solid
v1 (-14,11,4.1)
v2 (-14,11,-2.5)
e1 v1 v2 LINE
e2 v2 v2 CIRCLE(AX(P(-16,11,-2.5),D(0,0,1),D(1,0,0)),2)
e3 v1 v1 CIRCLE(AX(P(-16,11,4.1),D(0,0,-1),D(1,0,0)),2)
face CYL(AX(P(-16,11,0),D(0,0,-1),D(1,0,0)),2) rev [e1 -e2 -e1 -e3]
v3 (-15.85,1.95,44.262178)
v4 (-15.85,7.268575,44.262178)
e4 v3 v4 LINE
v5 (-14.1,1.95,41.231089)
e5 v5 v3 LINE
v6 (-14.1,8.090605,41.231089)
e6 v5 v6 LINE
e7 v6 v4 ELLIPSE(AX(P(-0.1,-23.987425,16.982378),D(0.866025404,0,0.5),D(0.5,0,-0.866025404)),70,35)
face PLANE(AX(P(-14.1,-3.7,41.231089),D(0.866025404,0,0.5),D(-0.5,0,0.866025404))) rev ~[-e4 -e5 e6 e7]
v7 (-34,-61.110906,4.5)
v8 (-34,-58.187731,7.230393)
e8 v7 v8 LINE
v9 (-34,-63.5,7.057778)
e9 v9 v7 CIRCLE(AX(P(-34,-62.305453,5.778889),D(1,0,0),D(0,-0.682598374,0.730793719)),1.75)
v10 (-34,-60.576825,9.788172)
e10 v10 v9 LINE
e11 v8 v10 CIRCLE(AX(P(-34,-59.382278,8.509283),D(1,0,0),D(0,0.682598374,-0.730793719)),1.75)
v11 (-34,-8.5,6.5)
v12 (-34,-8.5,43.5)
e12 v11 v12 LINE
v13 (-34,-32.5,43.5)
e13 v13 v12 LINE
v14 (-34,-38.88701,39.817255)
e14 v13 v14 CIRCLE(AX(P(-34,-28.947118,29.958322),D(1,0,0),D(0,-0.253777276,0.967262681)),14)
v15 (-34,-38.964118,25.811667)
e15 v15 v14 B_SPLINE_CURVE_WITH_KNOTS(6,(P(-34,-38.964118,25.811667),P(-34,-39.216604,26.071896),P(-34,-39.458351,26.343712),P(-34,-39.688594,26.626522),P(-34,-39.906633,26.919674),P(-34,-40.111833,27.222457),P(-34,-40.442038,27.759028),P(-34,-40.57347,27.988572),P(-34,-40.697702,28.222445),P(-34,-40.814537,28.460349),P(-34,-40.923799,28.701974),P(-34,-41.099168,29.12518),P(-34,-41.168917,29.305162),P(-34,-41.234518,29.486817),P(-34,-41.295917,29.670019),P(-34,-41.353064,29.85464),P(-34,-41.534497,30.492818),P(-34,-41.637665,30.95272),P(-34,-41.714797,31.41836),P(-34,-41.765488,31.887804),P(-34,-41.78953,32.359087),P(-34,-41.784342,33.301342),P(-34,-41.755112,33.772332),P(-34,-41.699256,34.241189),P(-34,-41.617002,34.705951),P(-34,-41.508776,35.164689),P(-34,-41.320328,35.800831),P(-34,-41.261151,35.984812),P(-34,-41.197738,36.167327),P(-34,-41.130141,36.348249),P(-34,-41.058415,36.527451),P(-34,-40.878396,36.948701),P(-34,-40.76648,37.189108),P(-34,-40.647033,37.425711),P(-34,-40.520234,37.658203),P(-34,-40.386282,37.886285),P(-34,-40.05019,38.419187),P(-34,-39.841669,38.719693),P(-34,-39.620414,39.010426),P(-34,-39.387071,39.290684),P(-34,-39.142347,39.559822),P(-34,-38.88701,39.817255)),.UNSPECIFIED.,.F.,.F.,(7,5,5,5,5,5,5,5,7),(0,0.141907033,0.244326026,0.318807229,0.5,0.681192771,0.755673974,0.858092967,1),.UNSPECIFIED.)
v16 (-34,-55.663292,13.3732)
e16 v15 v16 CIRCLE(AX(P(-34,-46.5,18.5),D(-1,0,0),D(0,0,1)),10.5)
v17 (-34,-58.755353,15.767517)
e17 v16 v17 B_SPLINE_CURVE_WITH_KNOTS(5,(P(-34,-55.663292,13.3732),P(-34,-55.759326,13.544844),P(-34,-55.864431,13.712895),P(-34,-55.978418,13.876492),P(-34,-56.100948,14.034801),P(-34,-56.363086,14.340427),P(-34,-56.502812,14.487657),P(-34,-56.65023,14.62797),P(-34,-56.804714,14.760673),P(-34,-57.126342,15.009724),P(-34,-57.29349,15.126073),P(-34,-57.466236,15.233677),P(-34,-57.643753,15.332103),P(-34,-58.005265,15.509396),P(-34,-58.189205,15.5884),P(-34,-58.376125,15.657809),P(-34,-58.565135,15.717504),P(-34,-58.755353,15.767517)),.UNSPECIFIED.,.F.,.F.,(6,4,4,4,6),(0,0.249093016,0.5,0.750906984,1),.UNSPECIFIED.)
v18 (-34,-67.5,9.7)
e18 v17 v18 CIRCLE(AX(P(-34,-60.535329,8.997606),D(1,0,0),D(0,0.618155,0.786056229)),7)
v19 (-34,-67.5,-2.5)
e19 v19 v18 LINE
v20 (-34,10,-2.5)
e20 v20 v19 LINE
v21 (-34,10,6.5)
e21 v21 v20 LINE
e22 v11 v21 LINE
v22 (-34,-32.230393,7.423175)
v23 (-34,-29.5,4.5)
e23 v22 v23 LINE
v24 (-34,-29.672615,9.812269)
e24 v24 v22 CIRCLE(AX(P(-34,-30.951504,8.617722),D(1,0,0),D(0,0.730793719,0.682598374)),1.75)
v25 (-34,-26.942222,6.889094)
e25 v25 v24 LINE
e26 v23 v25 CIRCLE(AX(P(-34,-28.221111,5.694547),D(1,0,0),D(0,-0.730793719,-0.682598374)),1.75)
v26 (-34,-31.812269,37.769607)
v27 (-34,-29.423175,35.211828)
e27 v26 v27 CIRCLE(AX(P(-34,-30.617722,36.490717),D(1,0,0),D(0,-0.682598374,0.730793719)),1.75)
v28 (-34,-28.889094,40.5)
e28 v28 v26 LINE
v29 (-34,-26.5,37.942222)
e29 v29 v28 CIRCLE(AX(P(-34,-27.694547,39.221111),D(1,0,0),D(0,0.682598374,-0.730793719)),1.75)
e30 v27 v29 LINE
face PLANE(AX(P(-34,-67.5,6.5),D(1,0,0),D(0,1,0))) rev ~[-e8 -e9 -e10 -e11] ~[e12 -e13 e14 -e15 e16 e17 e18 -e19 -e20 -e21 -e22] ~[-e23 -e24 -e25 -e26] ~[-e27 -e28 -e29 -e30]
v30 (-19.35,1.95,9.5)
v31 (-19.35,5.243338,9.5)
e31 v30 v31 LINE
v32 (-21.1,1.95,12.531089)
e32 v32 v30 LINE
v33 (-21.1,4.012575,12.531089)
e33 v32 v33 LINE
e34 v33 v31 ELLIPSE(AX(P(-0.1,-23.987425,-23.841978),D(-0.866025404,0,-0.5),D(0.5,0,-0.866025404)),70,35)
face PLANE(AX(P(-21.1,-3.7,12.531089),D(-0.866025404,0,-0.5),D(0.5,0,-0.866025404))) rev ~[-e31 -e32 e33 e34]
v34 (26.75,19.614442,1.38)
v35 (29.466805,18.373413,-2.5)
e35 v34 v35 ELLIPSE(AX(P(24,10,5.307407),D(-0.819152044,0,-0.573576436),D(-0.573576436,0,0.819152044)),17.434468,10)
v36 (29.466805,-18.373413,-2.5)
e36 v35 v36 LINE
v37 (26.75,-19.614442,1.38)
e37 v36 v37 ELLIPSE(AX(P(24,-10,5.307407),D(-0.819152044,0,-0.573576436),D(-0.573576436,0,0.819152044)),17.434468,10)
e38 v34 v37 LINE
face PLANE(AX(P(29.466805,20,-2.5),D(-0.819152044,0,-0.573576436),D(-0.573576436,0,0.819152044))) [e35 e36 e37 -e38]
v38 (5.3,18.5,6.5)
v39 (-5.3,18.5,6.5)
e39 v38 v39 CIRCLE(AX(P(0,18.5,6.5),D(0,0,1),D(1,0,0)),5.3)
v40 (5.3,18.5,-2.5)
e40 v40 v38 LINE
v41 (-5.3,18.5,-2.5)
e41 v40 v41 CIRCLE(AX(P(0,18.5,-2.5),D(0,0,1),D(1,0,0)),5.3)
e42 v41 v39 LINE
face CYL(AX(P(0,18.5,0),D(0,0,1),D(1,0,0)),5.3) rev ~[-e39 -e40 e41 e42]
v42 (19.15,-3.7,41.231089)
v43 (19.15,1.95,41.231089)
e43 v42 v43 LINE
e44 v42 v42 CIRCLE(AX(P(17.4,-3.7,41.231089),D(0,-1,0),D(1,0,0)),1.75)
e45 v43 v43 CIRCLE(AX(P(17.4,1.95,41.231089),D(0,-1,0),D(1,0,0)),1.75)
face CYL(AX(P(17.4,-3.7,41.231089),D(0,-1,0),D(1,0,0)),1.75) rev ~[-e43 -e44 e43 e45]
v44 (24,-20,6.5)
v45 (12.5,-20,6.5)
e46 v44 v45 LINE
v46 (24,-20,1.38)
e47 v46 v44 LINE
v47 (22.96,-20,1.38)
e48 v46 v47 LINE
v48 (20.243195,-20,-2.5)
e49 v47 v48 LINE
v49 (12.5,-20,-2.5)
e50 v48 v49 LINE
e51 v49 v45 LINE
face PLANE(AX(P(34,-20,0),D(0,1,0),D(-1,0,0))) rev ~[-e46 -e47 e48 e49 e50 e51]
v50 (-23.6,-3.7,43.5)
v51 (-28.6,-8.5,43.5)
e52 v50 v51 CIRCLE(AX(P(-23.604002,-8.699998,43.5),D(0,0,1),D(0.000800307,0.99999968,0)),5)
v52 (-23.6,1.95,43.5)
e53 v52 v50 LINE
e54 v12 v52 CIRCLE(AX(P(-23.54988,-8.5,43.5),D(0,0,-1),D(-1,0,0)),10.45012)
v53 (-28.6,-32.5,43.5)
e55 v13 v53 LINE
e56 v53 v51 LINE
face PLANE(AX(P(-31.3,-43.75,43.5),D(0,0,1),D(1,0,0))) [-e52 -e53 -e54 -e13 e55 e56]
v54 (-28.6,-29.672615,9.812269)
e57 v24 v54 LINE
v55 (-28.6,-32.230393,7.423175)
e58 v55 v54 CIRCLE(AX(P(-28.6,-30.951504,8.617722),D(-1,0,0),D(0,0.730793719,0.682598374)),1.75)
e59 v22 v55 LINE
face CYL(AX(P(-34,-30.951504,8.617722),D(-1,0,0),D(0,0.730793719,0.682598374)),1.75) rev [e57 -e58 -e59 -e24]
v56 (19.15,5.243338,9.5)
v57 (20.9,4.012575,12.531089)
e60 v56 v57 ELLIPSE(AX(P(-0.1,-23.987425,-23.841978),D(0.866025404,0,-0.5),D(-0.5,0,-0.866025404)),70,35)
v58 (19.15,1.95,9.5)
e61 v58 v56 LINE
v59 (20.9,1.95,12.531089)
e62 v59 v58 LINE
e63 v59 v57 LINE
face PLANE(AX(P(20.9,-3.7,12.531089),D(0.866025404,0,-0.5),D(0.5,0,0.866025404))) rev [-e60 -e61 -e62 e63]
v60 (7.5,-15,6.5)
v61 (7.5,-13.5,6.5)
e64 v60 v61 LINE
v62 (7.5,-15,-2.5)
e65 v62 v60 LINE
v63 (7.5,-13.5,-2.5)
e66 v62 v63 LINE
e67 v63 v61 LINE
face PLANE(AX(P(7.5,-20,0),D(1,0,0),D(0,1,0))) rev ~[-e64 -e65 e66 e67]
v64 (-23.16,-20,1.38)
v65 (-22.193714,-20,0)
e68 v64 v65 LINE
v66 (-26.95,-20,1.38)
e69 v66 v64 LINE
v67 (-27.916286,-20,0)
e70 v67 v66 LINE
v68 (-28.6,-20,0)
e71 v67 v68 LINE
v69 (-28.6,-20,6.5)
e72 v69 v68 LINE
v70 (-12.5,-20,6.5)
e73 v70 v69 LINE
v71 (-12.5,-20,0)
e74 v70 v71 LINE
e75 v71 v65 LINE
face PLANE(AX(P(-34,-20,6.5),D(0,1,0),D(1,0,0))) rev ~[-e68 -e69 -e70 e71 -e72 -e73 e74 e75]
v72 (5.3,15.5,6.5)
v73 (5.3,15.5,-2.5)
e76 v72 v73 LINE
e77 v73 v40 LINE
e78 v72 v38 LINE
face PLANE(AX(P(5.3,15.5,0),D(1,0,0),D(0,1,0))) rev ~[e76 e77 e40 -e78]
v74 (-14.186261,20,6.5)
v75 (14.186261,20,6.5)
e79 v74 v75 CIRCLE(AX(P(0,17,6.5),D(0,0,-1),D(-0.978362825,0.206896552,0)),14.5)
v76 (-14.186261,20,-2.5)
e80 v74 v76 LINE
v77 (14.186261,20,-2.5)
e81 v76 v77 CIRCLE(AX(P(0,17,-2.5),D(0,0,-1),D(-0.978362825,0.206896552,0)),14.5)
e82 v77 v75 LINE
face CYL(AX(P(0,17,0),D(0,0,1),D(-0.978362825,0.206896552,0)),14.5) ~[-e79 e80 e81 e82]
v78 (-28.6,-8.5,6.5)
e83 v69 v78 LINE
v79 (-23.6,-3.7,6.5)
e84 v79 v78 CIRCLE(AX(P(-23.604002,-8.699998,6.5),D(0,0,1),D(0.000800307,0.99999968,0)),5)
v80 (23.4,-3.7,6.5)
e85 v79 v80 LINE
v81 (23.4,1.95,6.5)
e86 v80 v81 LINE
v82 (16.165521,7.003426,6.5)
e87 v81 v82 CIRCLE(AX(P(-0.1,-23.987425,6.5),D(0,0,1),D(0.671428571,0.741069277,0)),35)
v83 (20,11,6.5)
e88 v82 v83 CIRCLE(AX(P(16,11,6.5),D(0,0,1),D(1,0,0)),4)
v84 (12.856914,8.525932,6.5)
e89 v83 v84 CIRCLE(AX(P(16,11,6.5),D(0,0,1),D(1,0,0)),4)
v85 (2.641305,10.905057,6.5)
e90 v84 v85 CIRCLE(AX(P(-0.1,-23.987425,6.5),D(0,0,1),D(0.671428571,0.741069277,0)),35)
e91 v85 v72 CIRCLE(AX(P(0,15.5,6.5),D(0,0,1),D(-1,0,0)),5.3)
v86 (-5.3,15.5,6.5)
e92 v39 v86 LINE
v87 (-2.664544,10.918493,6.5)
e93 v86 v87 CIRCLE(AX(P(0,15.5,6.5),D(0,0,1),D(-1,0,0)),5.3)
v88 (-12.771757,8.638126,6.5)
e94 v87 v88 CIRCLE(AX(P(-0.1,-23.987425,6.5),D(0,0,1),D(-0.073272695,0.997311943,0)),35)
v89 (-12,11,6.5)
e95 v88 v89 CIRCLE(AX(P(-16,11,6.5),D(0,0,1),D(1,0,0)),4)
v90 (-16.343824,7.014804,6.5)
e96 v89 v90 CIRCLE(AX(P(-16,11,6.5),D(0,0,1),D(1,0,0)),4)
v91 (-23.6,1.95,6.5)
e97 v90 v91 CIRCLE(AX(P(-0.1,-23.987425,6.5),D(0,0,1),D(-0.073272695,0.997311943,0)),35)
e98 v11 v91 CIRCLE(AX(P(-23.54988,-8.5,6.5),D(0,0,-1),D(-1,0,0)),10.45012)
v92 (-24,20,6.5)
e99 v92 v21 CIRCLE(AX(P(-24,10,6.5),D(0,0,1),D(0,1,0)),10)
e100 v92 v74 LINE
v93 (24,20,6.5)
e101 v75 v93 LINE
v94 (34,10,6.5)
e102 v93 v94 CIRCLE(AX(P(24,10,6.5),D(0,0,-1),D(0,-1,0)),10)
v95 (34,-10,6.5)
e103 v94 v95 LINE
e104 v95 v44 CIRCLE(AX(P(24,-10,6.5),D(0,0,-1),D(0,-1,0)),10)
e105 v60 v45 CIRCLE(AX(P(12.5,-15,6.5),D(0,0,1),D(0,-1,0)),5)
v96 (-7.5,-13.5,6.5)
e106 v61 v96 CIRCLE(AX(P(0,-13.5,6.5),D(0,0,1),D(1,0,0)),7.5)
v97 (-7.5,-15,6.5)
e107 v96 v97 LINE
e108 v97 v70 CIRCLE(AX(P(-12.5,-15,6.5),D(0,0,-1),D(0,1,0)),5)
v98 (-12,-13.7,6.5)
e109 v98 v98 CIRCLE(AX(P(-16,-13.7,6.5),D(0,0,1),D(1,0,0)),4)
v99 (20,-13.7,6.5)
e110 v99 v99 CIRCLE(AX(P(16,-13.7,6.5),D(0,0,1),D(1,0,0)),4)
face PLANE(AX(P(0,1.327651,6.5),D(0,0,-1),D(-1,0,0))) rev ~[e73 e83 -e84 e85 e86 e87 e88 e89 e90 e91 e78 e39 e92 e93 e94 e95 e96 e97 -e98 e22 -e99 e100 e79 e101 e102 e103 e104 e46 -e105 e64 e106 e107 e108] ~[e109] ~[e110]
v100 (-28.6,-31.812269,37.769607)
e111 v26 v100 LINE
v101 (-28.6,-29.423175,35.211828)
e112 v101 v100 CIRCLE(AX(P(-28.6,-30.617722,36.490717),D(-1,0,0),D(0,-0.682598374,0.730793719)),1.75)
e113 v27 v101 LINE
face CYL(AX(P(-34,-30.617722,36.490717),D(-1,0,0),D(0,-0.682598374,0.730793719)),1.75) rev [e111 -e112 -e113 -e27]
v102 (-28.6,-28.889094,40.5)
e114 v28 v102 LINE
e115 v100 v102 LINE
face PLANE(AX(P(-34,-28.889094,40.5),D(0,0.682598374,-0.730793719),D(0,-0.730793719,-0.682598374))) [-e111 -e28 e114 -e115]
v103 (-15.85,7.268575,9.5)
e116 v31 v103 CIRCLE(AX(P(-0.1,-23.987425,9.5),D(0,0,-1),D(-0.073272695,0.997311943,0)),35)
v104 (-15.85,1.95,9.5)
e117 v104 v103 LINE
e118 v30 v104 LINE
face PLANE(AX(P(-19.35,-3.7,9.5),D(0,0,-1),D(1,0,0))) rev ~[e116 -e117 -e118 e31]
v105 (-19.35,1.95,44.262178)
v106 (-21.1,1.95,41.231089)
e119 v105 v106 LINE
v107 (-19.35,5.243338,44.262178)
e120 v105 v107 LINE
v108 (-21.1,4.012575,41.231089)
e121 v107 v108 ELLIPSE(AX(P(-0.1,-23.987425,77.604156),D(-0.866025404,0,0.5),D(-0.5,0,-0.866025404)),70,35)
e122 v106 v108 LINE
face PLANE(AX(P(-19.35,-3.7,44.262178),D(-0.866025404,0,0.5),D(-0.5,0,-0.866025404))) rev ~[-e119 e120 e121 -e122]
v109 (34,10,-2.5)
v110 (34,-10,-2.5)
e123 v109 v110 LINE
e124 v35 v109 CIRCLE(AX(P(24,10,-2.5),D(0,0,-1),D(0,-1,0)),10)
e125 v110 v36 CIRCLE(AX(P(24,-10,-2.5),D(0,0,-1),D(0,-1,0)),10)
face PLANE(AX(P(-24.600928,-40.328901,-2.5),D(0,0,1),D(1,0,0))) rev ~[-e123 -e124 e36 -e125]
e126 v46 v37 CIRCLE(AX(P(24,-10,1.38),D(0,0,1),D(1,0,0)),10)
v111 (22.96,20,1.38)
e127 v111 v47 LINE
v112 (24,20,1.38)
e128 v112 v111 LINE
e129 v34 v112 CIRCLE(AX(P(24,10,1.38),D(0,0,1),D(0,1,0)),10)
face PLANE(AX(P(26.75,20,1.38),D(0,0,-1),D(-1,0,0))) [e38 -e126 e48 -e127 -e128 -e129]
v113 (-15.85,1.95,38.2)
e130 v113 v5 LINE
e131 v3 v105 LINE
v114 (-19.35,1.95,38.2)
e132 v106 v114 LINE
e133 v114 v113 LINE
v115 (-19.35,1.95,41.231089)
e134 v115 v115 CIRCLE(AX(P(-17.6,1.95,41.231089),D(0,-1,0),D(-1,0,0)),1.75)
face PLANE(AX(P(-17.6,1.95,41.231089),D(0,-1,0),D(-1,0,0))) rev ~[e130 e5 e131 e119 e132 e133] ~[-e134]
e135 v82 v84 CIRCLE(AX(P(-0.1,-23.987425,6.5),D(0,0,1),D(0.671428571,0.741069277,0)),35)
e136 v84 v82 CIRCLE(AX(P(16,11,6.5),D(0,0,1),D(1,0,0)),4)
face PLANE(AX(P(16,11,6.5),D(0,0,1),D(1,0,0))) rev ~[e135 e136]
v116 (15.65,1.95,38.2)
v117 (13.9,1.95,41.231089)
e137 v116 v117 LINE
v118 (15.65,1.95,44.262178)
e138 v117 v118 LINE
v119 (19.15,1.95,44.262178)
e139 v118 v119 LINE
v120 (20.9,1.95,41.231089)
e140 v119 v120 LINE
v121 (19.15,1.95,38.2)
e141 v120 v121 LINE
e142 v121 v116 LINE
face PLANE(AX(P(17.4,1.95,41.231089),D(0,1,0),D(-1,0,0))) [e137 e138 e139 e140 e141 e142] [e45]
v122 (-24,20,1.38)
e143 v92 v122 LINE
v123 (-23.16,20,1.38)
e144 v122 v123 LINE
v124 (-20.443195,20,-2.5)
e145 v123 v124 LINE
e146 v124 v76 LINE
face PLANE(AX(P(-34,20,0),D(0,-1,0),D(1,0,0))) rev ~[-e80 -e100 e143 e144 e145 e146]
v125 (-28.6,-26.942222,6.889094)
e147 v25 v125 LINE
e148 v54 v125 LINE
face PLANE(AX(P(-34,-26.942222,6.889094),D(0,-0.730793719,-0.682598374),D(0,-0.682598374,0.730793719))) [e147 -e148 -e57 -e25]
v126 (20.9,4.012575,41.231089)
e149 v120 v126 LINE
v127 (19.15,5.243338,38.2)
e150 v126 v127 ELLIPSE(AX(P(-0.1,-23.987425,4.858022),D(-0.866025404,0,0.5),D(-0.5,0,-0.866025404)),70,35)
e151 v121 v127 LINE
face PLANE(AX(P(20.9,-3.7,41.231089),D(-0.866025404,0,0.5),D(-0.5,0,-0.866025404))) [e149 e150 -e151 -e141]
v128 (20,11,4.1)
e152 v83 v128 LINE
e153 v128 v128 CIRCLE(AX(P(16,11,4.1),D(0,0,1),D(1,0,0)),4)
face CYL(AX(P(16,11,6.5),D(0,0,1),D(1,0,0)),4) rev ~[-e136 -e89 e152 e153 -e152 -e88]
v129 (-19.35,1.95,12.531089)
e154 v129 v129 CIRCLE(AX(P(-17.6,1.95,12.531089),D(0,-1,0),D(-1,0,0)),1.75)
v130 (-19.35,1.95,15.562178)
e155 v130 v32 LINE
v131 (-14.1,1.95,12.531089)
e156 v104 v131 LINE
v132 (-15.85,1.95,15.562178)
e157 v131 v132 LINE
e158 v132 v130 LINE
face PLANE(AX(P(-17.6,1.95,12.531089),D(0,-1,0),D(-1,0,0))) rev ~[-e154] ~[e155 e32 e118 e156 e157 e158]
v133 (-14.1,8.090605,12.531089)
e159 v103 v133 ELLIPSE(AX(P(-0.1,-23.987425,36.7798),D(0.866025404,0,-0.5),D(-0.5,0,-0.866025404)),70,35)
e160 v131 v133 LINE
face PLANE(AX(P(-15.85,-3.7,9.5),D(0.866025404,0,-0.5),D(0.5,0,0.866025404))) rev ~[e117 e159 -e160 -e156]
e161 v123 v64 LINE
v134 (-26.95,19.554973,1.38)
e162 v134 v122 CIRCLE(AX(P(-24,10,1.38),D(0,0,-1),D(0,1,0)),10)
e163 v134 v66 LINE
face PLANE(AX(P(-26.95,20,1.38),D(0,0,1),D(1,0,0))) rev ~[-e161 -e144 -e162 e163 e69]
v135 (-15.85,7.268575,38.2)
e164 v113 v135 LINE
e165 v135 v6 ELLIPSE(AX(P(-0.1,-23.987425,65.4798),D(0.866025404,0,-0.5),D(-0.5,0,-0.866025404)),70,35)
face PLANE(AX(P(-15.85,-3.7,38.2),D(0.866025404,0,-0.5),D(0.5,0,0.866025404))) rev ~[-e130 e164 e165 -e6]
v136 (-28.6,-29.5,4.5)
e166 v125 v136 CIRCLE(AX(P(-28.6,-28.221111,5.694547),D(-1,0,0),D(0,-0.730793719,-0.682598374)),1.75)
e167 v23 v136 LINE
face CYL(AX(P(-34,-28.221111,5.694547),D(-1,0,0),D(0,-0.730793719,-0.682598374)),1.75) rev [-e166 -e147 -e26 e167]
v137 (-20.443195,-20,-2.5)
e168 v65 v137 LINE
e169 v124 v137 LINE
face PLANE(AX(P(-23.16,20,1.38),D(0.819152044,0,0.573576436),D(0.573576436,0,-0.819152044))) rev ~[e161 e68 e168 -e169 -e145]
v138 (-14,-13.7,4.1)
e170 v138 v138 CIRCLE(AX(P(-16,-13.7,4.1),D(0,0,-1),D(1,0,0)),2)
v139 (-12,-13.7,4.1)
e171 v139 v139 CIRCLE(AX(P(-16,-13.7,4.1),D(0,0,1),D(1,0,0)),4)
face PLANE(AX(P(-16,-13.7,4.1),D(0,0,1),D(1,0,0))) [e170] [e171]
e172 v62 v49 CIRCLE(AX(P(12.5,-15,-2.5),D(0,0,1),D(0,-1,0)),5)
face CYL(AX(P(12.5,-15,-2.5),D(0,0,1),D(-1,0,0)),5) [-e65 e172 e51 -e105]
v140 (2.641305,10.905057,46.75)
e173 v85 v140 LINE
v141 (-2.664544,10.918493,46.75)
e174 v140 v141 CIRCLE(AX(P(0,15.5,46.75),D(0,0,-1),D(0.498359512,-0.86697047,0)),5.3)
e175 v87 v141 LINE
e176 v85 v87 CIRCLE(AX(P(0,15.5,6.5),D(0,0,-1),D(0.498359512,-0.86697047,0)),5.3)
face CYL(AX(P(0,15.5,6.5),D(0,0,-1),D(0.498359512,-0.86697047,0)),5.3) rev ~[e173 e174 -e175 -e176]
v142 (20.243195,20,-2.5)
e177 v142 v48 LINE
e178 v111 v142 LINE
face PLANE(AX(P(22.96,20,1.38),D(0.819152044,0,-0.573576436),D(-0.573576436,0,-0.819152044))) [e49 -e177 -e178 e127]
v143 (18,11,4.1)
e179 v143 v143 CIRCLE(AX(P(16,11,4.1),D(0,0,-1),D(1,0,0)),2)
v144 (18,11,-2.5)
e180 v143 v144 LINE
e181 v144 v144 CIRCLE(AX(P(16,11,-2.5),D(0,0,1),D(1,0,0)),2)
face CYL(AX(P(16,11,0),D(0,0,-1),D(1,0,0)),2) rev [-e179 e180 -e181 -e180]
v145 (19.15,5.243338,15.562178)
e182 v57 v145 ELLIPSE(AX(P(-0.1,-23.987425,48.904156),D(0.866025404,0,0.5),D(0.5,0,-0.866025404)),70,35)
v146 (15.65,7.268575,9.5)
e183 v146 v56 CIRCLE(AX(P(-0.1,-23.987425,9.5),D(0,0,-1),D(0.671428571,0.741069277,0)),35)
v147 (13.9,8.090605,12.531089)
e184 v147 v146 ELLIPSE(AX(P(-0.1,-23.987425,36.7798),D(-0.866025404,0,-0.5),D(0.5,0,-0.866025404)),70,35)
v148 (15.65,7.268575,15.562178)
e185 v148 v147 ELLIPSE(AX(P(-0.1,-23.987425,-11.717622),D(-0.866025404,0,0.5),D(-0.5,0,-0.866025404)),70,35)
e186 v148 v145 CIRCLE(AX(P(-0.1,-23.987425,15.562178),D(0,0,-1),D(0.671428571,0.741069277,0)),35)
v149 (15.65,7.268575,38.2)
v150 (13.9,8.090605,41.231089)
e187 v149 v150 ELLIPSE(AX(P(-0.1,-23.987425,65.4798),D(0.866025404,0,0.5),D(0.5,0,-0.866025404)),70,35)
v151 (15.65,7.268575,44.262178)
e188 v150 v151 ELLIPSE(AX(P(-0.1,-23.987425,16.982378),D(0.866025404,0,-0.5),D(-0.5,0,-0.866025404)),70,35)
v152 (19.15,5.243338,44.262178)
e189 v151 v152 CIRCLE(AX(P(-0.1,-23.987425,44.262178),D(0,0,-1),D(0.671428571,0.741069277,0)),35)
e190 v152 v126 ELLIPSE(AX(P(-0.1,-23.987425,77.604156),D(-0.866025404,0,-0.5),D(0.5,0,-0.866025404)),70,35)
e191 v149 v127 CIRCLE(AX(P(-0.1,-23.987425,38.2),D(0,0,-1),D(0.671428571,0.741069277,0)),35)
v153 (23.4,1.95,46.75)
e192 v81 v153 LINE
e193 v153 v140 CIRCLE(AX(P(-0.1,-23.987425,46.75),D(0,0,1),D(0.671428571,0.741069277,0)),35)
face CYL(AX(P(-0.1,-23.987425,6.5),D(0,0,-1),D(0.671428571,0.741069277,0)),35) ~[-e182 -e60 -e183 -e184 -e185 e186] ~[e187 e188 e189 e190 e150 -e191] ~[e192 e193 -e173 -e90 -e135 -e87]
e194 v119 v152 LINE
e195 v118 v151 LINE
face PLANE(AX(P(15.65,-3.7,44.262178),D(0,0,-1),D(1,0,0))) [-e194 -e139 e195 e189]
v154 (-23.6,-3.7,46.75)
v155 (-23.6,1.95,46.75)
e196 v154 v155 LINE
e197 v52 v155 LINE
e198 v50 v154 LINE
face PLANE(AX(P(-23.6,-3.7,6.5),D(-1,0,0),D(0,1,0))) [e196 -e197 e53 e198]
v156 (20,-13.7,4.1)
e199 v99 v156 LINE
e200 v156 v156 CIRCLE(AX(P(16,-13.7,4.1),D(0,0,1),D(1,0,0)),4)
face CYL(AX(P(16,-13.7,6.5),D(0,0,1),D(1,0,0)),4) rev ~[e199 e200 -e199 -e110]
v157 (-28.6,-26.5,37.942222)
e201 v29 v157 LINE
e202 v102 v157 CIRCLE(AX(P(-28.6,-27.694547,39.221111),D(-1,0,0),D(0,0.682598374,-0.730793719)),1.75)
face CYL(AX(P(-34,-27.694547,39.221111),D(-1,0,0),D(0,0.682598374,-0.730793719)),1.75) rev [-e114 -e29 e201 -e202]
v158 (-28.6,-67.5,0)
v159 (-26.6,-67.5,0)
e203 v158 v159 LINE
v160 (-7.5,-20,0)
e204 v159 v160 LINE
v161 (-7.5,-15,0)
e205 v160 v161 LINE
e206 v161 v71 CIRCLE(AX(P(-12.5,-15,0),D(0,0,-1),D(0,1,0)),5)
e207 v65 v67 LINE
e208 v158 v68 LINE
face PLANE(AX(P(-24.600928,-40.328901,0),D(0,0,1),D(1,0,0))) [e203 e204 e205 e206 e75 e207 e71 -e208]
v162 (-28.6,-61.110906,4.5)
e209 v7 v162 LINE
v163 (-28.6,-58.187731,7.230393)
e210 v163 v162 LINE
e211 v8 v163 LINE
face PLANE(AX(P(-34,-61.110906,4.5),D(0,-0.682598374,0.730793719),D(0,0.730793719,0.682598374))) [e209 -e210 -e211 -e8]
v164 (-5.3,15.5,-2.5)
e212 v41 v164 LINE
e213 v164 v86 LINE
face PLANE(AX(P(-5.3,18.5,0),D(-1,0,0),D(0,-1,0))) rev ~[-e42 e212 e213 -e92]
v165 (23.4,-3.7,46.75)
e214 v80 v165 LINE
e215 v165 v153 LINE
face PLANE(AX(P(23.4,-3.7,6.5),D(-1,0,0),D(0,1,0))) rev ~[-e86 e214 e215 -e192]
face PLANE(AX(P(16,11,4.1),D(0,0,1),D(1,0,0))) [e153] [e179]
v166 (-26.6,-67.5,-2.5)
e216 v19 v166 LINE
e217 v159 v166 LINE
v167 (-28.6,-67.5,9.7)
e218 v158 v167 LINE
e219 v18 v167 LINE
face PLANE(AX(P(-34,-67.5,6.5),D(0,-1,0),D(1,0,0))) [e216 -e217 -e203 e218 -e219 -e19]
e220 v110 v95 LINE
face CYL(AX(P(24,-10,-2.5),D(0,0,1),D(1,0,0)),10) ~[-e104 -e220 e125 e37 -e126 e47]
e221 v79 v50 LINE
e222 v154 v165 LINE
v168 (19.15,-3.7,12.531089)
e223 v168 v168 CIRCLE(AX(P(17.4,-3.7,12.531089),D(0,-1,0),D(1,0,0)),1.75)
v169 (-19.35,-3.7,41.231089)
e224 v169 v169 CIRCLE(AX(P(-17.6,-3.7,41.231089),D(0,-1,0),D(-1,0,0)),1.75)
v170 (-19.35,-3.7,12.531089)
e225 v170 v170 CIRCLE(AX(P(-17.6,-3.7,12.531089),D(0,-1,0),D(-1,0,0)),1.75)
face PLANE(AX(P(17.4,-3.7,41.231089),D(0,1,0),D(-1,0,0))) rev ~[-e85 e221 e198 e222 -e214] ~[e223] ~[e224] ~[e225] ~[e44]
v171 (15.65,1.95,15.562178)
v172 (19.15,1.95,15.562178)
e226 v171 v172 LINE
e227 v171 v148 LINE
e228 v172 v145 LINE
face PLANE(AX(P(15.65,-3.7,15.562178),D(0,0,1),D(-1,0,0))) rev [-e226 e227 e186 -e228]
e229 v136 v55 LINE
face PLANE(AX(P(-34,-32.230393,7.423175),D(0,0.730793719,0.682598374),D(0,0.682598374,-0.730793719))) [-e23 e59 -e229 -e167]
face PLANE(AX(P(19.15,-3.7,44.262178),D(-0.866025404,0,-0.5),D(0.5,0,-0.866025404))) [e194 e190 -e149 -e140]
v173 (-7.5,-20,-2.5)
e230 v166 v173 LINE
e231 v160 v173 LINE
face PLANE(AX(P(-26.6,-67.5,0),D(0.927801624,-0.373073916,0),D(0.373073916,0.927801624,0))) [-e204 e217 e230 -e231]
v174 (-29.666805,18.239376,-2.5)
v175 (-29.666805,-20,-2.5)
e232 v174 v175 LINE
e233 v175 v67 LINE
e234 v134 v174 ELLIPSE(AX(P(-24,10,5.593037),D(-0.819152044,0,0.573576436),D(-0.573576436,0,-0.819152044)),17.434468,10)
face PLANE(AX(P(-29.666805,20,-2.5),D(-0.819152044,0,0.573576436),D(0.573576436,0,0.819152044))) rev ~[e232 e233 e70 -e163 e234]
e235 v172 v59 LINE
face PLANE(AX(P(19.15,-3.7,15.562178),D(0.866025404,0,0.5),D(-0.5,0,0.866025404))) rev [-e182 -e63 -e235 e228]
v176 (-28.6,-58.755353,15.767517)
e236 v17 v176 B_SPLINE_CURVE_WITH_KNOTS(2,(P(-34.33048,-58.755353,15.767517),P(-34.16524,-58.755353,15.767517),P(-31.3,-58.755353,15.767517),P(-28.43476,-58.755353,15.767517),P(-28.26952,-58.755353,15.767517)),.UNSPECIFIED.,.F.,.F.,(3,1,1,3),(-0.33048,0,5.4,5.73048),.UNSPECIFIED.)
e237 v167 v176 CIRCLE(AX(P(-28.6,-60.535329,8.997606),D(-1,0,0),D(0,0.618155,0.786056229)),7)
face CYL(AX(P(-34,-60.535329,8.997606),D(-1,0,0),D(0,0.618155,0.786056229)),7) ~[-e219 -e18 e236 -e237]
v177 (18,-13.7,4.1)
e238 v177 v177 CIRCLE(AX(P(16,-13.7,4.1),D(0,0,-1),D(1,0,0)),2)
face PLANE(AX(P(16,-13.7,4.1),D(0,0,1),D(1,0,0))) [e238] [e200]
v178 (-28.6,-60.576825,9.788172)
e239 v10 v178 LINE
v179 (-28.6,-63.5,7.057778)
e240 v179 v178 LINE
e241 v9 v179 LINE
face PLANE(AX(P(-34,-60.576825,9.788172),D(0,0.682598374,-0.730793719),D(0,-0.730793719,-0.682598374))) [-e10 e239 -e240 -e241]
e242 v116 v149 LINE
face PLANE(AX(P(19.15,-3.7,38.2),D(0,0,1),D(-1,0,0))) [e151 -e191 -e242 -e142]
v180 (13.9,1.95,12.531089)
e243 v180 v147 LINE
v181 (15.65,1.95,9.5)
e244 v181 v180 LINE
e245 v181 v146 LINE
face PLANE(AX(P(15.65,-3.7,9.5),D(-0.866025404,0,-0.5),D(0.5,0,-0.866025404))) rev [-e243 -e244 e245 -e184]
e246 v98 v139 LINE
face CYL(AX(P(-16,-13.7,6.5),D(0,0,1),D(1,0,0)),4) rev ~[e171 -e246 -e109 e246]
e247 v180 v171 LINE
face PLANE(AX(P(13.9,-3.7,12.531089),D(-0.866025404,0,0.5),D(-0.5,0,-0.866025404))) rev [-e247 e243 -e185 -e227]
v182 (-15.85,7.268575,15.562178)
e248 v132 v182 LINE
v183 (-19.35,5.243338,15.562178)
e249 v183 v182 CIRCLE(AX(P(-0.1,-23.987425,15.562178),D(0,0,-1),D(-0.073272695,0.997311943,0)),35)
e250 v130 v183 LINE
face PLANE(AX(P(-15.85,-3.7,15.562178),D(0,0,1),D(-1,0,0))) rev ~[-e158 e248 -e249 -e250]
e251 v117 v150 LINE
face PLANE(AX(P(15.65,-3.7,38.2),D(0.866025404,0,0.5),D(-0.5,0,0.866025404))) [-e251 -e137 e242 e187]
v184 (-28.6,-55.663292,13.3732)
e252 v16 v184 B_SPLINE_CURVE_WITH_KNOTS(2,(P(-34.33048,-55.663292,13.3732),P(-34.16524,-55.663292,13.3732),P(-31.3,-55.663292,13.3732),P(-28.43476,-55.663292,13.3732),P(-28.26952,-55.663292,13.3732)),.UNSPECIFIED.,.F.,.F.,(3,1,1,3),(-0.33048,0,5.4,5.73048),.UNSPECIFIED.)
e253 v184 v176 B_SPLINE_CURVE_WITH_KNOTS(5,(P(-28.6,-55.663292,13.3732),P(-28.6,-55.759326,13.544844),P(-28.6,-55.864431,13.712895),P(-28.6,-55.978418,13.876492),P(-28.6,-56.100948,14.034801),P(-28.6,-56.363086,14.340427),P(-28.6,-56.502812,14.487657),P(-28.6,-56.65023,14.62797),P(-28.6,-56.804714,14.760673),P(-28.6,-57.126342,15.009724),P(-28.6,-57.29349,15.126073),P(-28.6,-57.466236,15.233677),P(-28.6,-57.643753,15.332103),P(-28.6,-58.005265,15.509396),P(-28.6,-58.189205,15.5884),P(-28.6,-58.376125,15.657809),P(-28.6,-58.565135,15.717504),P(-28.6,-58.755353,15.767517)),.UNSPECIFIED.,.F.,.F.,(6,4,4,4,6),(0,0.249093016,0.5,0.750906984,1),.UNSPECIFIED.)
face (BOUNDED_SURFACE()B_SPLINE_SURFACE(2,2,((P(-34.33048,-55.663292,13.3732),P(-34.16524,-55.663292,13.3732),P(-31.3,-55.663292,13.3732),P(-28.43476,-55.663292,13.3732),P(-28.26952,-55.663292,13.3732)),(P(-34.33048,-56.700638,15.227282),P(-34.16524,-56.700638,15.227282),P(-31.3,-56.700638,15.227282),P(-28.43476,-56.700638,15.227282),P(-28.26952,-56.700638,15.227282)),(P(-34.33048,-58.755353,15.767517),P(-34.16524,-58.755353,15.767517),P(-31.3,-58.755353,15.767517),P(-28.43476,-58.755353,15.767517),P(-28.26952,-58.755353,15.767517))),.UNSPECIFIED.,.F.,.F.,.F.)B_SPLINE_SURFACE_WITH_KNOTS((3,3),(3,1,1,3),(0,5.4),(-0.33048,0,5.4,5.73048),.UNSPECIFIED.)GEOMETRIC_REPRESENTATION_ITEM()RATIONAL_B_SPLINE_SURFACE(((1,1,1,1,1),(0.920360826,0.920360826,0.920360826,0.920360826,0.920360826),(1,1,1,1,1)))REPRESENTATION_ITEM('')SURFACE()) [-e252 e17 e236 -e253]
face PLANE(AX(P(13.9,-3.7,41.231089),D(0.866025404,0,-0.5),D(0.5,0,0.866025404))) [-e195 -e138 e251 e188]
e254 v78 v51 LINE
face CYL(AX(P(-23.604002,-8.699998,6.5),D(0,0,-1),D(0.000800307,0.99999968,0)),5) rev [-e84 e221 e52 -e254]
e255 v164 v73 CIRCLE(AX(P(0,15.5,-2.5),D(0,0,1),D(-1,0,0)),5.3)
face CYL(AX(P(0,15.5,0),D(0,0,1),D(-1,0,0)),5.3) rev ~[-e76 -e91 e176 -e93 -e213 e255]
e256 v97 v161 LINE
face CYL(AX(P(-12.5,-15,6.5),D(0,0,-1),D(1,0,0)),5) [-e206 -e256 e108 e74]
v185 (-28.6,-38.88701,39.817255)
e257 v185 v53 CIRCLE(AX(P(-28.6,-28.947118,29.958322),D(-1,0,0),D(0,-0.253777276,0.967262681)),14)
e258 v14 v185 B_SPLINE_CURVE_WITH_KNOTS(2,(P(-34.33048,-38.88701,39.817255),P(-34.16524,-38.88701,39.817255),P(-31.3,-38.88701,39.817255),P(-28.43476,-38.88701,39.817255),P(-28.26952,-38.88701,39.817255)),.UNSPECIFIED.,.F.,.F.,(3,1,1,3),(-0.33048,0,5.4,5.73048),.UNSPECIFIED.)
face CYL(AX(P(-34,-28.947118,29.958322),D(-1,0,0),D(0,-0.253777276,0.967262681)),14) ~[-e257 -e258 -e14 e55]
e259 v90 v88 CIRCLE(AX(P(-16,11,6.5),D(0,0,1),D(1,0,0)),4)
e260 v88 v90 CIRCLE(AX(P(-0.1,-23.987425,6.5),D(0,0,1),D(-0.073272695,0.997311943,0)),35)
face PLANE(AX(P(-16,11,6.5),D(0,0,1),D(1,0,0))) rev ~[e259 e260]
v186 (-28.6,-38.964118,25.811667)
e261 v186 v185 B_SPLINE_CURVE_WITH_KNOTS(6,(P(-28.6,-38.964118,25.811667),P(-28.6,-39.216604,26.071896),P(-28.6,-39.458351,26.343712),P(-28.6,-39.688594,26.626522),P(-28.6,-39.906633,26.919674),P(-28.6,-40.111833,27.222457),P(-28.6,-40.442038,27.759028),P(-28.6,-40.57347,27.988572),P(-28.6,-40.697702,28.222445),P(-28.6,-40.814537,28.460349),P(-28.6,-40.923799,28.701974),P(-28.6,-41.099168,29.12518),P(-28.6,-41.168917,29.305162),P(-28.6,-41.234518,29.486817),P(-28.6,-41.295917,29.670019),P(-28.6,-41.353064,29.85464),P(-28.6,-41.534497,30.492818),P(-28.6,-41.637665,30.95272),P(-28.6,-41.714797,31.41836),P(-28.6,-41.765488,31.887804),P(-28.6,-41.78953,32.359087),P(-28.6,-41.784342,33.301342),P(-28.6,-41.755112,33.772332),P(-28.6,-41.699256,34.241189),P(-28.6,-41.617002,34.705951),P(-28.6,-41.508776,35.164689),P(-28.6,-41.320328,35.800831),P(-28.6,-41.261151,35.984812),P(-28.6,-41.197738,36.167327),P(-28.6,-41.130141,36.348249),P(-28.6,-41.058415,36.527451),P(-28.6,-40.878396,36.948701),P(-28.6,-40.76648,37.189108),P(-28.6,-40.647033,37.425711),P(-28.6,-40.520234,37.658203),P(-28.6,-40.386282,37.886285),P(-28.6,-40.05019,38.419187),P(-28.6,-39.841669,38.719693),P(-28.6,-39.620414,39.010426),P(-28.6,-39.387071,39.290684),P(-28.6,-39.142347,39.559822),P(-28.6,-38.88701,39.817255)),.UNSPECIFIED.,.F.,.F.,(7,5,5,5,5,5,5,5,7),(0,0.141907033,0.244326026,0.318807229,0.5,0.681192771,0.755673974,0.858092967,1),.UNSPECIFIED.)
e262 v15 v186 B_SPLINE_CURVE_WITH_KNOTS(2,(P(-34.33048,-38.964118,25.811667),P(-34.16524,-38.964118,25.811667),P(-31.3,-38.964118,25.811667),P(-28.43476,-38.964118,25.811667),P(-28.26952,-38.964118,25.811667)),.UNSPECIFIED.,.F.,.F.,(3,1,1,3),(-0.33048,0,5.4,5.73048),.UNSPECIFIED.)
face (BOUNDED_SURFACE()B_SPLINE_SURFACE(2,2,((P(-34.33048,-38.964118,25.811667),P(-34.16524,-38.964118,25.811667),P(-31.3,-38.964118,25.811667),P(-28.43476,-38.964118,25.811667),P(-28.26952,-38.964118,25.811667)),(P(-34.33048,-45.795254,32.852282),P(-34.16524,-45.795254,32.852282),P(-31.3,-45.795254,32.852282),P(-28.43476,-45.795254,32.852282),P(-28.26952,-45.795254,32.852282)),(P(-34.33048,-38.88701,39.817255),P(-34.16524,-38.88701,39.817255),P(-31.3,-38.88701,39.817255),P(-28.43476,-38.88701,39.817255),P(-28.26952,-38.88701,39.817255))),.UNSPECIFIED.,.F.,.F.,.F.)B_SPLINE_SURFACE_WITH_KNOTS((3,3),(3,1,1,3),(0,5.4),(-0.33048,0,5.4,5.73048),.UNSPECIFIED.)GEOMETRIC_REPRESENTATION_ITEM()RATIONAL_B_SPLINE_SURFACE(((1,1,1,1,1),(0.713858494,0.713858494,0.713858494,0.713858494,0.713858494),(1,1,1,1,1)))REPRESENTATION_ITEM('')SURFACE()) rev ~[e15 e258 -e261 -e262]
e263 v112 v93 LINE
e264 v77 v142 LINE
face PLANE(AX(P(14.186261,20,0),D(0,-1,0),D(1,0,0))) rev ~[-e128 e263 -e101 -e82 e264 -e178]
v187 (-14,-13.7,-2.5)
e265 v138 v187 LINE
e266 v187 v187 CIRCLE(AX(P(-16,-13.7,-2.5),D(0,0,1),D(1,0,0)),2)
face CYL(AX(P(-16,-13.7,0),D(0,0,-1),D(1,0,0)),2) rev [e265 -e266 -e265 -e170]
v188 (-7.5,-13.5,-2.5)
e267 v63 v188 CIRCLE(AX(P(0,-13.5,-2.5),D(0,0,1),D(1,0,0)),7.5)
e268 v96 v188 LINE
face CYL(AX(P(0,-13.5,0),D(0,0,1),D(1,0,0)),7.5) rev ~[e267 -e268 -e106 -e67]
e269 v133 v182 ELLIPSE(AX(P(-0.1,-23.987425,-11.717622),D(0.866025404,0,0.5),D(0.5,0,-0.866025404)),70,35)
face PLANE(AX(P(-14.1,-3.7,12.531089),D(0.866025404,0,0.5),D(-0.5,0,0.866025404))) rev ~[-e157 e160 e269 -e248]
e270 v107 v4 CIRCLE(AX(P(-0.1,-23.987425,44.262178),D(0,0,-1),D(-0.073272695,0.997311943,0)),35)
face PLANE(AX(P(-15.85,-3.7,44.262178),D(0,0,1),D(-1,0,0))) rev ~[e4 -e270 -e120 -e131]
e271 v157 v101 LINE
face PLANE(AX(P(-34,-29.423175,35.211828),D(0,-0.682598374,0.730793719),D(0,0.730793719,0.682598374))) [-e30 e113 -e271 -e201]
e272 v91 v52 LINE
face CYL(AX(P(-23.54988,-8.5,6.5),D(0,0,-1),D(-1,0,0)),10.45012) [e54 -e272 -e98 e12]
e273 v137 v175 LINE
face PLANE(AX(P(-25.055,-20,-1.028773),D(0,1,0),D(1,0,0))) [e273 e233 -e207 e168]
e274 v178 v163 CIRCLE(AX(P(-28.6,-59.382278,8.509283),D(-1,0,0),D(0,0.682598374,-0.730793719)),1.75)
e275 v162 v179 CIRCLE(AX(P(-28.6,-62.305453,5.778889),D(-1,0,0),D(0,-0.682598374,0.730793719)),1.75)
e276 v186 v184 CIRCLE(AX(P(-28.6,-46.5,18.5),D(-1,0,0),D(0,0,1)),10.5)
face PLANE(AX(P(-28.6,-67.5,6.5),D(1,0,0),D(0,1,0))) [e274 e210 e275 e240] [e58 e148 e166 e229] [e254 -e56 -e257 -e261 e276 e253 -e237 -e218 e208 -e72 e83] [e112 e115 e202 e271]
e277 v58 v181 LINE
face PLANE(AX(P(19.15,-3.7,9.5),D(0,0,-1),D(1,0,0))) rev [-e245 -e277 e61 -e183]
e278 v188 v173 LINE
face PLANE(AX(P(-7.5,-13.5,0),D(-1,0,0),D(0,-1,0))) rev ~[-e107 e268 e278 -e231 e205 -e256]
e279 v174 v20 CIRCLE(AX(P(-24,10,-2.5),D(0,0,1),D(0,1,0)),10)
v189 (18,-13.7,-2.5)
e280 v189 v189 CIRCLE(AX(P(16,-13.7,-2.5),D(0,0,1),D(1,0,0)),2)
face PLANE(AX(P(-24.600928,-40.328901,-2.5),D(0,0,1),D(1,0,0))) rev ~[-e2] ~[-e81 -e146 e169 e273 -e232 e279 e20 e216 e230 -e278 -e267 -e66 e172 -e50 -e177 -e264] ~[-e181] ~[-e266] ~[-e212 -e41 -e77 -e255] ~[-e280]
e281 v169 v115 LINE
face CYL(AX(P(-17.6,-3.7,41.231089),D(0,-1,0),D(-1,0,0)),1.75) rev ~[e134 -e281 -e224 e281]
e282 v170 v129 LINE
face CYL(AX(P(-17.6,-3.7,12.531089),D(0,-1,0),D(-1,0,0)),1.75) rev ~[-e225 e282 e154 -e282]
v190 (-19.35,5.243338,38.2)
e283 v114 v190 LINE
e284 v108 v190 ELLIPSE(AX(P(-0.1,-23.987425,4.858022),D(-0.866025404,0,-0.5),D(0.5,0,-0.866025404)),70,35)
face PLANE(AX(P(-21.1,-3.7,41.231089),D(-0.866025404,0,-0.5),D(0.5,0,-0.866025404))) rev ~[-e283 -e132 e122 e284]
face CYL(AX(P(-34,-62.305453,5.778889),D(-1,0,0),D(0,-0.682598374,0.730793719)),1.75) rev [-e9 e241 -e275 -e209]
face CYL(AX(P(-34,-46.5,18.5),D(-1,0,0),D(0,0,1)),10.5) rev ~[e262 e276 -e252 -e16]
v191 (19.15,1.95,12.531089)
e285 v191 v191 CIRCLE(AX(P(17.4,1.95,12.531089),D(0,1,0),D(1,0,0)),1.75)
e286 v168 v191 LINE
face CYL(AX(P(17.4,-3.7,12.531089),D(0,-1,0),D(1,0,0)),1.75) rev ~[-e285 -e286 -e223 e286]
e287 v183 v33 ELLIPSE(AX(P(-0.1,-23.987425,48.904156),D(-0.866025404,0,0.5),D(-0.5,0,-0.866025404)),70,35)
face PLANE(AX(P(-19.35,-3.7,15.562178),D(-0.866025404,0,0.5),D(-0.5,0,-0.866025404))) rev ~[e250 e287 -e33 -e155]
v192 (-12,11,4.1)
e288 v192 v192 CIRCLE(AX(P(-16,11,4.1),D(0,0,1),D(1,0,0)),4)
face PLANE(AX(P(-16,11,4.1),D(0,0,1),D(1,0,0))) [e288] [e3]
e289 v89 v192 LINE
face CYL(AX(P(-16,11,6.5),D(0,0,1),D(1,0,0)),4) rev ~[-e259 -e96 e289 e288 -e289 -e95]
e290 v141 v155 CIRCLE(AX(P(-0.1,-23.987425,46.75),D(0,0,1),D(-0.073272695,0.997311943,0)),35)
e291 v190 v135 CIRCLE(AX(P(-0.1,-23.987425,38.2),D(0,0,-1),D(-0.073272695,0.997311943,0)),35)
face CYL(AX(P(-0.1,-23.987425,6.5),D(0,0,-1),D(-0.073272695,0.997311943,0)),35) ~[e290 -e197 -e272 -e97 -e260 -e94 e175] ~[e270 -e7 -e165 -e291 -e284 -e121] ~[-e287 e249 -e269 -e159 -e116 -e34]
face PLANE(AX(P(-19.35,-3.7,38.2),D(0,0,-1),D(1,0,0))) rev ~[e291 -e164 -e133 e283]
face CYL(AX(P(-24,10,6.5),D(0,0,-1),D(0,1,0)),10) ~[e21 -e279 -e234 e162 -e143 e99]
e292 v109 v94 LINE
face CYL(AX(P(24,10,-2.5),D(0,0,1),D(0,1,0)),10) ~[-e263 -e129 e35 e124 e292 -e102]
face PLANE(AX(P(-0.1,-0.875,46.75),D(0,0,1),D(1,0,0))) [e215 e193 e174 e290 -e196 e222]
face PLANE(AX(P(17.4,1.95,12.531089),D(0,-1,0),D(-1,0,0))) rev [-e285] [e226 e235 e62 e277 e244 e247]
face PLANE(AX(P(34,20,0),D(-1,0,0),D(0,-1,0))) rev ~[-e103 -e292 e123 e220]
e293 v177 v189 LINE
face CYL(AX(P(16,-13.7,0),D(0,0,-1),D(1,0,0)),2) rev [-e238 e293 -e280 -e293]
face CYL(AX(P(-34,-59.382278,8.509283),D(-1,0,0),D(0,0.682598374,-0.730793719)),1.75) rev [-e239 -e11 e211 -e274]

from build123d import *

# Parameters (mm, degrees)
SKETCH1_R                = 2
BOSS_EXTRUDE1_DEPTH      = 6.5
BOSS_EXTRUDE1_DEPTH_BACK = 2.5
BOSS_EXTRUDE3_DEPTH      = 2.5
FILLET2_R                = 10
SKETCH2_W                = 47
SKETCH2_H                = 5.65
BOSS_EXTRUDE4_DEPTH      = 40.25
SKETCH2_4_W              = 5.4
SKETCH2_4_H              = 11.5
BOSS_EXTRUDE5_DEPTH      = 37
SKETCH2_5_W              = 5.4
SKETCH2_5_H              = 47.5
BOSS_EXTRUDE6_DEPTH      = 37
BOSS_EXTRUDE6_DEPTH_BACK = 6.5
SKETCH4_R                = 4
CUT_EXTRUDE1_DEPTH       = 2.4
SKETCH5_R                = 1.75
CUT_EXTRUDE2_DEPTH       = 36.2
SKETCH5_4_R              = 1.75
CUT_EXTRUDE3_DEPTH       = 12
SKETCH5_5_R              = 1.75
BOSS_EXTRUDE7_DEPTH      = 5.65
LPATTERN2_COUNT          = 2
LPATTERN2_PITCH          = 28.7
MIRROR1_COPY_1_SKETCH_R  = 1.75
MIRROR1_COPY_1_DEPTH     = 36.2
MIRROR1_COPY_2_SKETCH_R  = 1.75
MIRROR1_COPY_2_DEPTH     = 12
MIRROR1_COPY_3_SKETCH_R  = 1.75
MIRROR1_COPY_3_DEPTH     = 5.65
MIRROR1_COPY_4_SKETCH_R  = 1.75
MIRROR1_COPY_4_DEPTH     = 36.2
SKETCH7_R                = 10.5
CUT_EXTRUDE4_DEPTH       = 5.65
FILLET3_R                = 10
FILLET5_R                = 5
FILLET6_R                = 5
FILLET12_R               = 5
CUT_EXTRUDE5_DEPTH       = 69
CUT_EXTRUDE7_DEPTH       = 40


with BuildPart() as part:
    # Sketch1 → Boss-Extrude1 (new body, two sides)
    with BuildSketch(Plane.XY) as boss_extrude1_sk:
        with BuildLine():
            ThreePointArc((7.5, -13.5), (0, -6), (-7.5, -13.5))
            Line((-7.5, -13.5), (-7.5, -20))
            Line((-7.5, -20), (-34, -20))
            Line((-34, -20), (-34, 20))
            Line((-34, 20), (-14.186260959, 20))
            ThreePointArc((-14.186260959, 20), (0, 31.5), (14.186260959, 20))
            Line((14.186260959, 20), (34, 20))
            Line((34, 20), (34, -20))
            Line((34, -20), (7.5, -20))
            Line((7.5, -20), (7.5, -13.5))
        make_face()
        with Locations((16, 11)):
            Circle(SKETCH1_R, mode=Mode.SUBTRACT)
        with Locations((-16, 11)):
            Circle(SKETCH1_R, mode=Mode.SUBTRACT)
        with Locations((16, -13.7)):
            Circle(SKETCH1_R, mode=Mode.SUBTRACT)
        with Locations((-16, -13.7)):
            Circle(SKETCH1_R, mode=Mode.SUBTRACT)
        with BuildLine():
            ThreePointArc((-5.3, 15.5), (0, 10.2), (5.3, 15.5))
            Line((5.3, 15.5), (5.3, 18.5))
            ThreePointArc((5.3, 18.5), (0, 23.8), (-5.3, 18.5))
            Line((-5.3, 18.5), (-5.3, 15.5))
        make_face(mode=Mode.SUBTRACT)
    extrude(amount=BOSS_EXTRUDE1_DEPTH)
    extrude(boss_extrude1_sk.sketch, amount=-BOSS_EXTRUDE1_DEPTH_BACK)

    # Sketch1<5> → Boss-Extrude3 (add)
    with BuildSketch(Plane.XY):
        Polygon((-34, -67.5), (-26.6, -67.5), (-7.5, -20), (-34, -20), align=None)
    extrude(amount=-BOSS_EXTRUDE3_DEPTH)

    # Fillet2
    fillet2_edges = [part.edges().sort_by_distance(p)[0] for p in [
        (-34, 20, 2),
        (34, 20, 2),
        (34, -20, 2),
    ]]
    fillet(fillet2_edges, radius=FILLET2_R)

    # Sketch2 → Boss-Extrude4 (add)
    with BuildSketch(Plane.XY.offset(6.5)):
        with Locations((-0.1, -0.875)):
            Rectangle(SKETCH2_W, SKETCH2_H)
        with BuildLine():
            Line((-23.6, 1.95), (23.4, 1.95))
            ThreePointArc((23.4, 1.95), (13.763613768, 8.149784472), (2.641305414, 10.905056506))
            ThreePointArc((2.641305414, 10.905056506), (-0.013421952, 10.200016995), (-2.664544331, 10.918493315))
            ThreePointArc((-2.664544331, 10.918493315), (-13.88218364, 8.184790241), (-23.6, 1.95))
        make_face()
    extrude(amount=BOSS_EXTRUDE4_DEPTH)

    # Sketch2<4> → Boss-Extrude5 (add)
    with BuildSketch(Plane.XY.offset(6.5)):
        with BuildLine():
            ThreePointArc((-23.6, -3.7), (-27.066660678, -5.093061794), (-28.6, -8.5))
            Line((-28.6, -8.5), (-34, -8.5))
            ThreePointArc((-34, -8.5), (-30.956929628, -1.12839061), (-23.6, 1.95))
            Line((-23.6, 1.95), (-23.6, -3.7))
        make_face()
        with Locations((-31.3, -14.25)):
            Rectangle(SKETCH2_4_W, SKETCH2_4_H)
    extrude(amount=BOSS_EXTRUDE5_DEPTH)

    # Sketch2<5> → Boss-Extrude6 (add, two sides)
    with BuildSketch(Plane.XY.offset(6.5)) as boss_extrude6_sk:
        with Locations((-31.3, -43.75)):
            Rectangle(SKETCH2_5_W, SKETCH2_5_H)
    extrude(amount=BOSS_EXTRUDE6_DEPTH)
    extrude(boss_extrude6_sk.sketch, amount=-BOSS_EXTRUDE6_DEPTH_BACK)

    # Sketch4 → Cut-Extrude1 (cut)
    with BuildSketch(Plane.XY.offset(6.5)):
        with Locations((-16, 11)):
            Circle(SKETCH4_R)
        with Locations((16, 11)):
            Circle(SKETCH4_R)
        with Locations((16, -13.7)):
            Circle(SKETCH4_R)
        with Locations((-16, -13.7)):
            Circle(SKETCH4_R)
    extrude(amount=-CUT_EXTRUDE1_DEPTH, mode=Mode.SUBTRACT)

    # Sketch5 → Cut-Extrude2 (cut, through all)
    with BuildSketch(Plane(origin=(0, -3.7, 0), x_dir=(-1, 0, 0), z_dir=(0, -1, 0))):
        with Locations((17.6, -12.531088913)):
            Circle(SKETCH5_R)
    cut_extrude2 = extrude(amount=-CUT_EXTRUDE2_DEPTH, mode=Mode.SUBTRACT)

    # Sketch5<4> → Cut-Extrude3 (cut)
    with BuildSketch(Plane(origin=(0, -3.7, 0), x_dir=(-1, 0, 0), z_dir=(0, -1, 0))):
        Polygon((15.85, -15.562177826), (19.35, -15.562177826), (21.1, -12.531088913), (19.35, -9.5), (15.85, -9.5), (14.1, -12.531088913), align=None)
        with Locations((17.6, -12.531088913)):
            Circle(SKETCH5_4_R, mode=Mode.SUBTRACT)
    cut_extrude3 = extrude(amount=-CUT_EXTRUDE3_DEPTH, mode=Mode.SUBTRACT)

    # Sketch5<5> → Boss-Extrude7 (add)
    with BuildSketch(Plane(origin=(0, -3.7, 0), x_dir=(-1, 0, 0), z_dir=(0, -1, 0))):
        Polygon((15.85, -15.562177826), (19.35, -15.562177826), (21.1, -12.531088913), (19.35, -9.5), (15.85, -9.5), (14.1, -12.531088913), align=None)
        with Locations((17.6, -12.531088913)):
            Circle(SKETCH5_5_R, mode=Mode.SUBTRACT)
    boss_extrude7 = extrude(amount=-BOSS_EXTRUDE7_DEPTH)

    # LPattern2: Cut-Extrude2, Cut-Extrude3, Boss-Extrude7 ×2
    with Locations(*[(0, 0, i * LPATTERN2_PITCH) for i in range(1, LPATTERN2_COUNT)]):
        add(cut_extrude2, mode=Mode.SUBTRACT)
        add(cut_extrude3, mode=Mode.SUBTRACT)
        add(boss_extrude7)

    # Mirror1: Cut-Extrude3, Boss-Extrude7 across plane
    add(cut_extrude3.mirror(Plane.ZY.offset(0.1)), mode=Mode.SUBTRACT)
    add(boss_extrude7.mirror(Plane.ZY.offset(0.1)))

    # Mirror1 copy 1 sketch → Mirror1 copy 1 (cut, through all)
    with BuildSketch(Plane(origin=(-0.2, -3.7, 28.7), x_dir=(1, 0, 0), z_dir=(0, -1, 0))):
        with Locations((17.6, 12.531088913)):
            Circle(MIRROR1_COPY_1_SKETCH_R)
    extrude(amount=-MIRROR1_COPY_1_DEPTH, mode=Mode.SUBTRACT)

    # Mirror1 copy 2 sketch → Mirror1 copy 2 (cut)
    with BuildSketch(Plane(origin=(-0.2, -3.7, 28.7), x_dir=(1, 0, 0), z_dir=(0, -1, 0))):
        Polygon((15.85, 15.562177826), (19.35, 15.562177826), (21.1, 12.531088913), (19.35, 9.5), (15.85, 9.5), (14.1, 12.531088913), align=None)
        with Locations((17.6, 12.531088913)):
            Circle(MIRROR1_COPY_2_SKETCH_R, mode=Mode.SUBTRACT)
    extrude(amount=-MIRROR1_COPY_2_DEPTH, mode=Mode.SUBTRACT)

    # Mirror1 copy 3 sketch → Mirror1 copy 3 (add)
    with BuildSketch(Plane(origin=(-0.2, -3.7, 28.7), x_dir=(1, 0, 0), z_dir=(0, -1, 0))):
        Polygon((15.85, 15.562177826), (19.35, 15.562177826), (21.1, 12.531088913), (19.35, 9.5), (15.85, 9.5), (14.1, 12.531088913), align=None)
        with Locations((17.6, 12.531088913)):
            Circle(MIRROR1_COPY_3_SKETCH_R, mode=Mode.SUBTRACT)
    extrude(amount=-MIRROR1_COPY_3_DEPTH)

    # Mirror1 copy 4 sketch → Mirror1 copy 4 (cut, through all)
    with BuildSketch(Plane(origin=(-0.2, -3.7, 0), x_dir=(1, 0, 0), z_dir=(0, -1, 0))):
        with Locations((17.6, 12.531088913)):
            Circle(MIRROR1_COPY_4_SKETCH_R)
    extrude(amount=-MIRROR1_COPY_4_DEPTH, mode=Mode.SUBTRACT)

    # Sketch7 → Cut-Extrude4 (cut)
    with BuildSketch(Plane.ZY.offset(34)):
        with BuildLine():
            ThreePointArc((28.34667488, -42.854044185), (28.835378228, -44.647985724), (29, -46.5))
            ThreePointArc((29, -46.5), (24.341660723, -55.224964183), (14.5, -56.208243919))
            ThreePointArc((14.5, -56.208243919), (15.43971668, -63.273798399), (9.7, -67.5))
            Line((9.7, -67.5), (43.5, -67.5))
            Line((43.5, -67.5), (43.5, -32.5))
            ThreePointArc((43.5, -32.5), (37.856610976, -40.506401793), (28.34667488, -42.854044185))
        make_face()
        with Locations((18.5, -46.5)):
            Circle(SKETCH7_R)
    extrude(amount=-CUT_EXTRUDE4_DEPTH, mode=Mode.SUBTRACT)

    # Fillet3
    fillet3_edges = [part.edges().sort_by_distance(p)[0] for p in [
        (-31.3, -42.854044185, 28.34667488),
    ]]
    fillet(fillet3_edges, radius=FILLET3_R)

    # Fillet5
    fillet5_edges = [part.edges().sort_by_distance(p)[0] for p in [
        (-31.3, -56.208243919, 14.5),
    ]]
    fillet(fillet5_edges, radius=FILLET5_R)

    # Fillet6
    fillet6_edges = [part.edges().sort_by_distance(p)[0] for p in [
        (7.5, -20, 2),
    ]]
    fillet(fillet6_edges, radius=FILLET6_R)

    # Fillet12
    fillet12_edges = [part.edges().sort_by_distance(p)[0] for p in [
        (-7.5, -20, 3.25),
    ]]
    fillet(fillet12_edges, radius=FILLET12_R)

    # Sketch10 → Cut-Extrude5 (cut, through all)
    with BuildSketch(Plane.ZY.offset(34)):
        with BuildLine():
            Line((6.88909431, -26.942221984), (9.812269185, -29.672615481))
            ThreePointArc((9.812269185, -29.672615481), (9.896611038, -32.146051644), (7.423174875, -32.230393497))
            Line((7.423174875, -32.230393497), (4.5, -29.5))
            ThreePointArc((4.5, -29.5), (4.415658147, -27.026563837), (6.88909431, -26.942221984))
        make_face()
        with BuildLine():
            Line((35.211828487, -29.423174875), (37.942221984, -26.5))
            ThreePointArc((37.942221984, -26.5), (40.415658147, -26.415658147), (40.5, -28.88909431))
            Line((40.5, -28.88909431), (37.769606503, -31.812269185))
            ThreePointArc((37.769606503, -31.812269185), (35.29617034, -31.896611038), (35.211828487, -29.423174875))
        make_face()
        with BuildLine():
            Line((9.788171513, -60.576825125), (7.057778016, -63.5))
            ThreePointArc((7.057778016, -63.5), (4.584341853, -63.584341853), (4.5, -61.11090569))
            Line((4.5, -61.11090569), (7.230393497, -58.187730815))
            ThreePointArc((7.230393497, -58.187730815), (9.70382966, -58.103388962), (9.788171513, -60.576825125))
        make_face()
    extrude(amount=-CUT_EXTRUDE5_DEPTH, mode=Mode.SUBTRACT)

    # Sketch11 → Cut-Extrude7 (cut)
    with BuildSketch(Plane(origin=(0, 20, 0), x_dir=(1, 0, 0), z_dir=(0, 1, 0))):
        Polygon((29.466805248, 2.5), (26.75, -1.38), (22.96, -1.38), (20.243194752, 2.5), align=None)
        Polygon((-20.443194752, 2.5), (-29.666805248, 2.5), (-26.95, -1.38), (-23.16, -1.38), align=None)
    extrude(amount=-CUT_EXTRUDE7_DEPTH, mode=Mode.SUBTRACT)


solid = part.part
